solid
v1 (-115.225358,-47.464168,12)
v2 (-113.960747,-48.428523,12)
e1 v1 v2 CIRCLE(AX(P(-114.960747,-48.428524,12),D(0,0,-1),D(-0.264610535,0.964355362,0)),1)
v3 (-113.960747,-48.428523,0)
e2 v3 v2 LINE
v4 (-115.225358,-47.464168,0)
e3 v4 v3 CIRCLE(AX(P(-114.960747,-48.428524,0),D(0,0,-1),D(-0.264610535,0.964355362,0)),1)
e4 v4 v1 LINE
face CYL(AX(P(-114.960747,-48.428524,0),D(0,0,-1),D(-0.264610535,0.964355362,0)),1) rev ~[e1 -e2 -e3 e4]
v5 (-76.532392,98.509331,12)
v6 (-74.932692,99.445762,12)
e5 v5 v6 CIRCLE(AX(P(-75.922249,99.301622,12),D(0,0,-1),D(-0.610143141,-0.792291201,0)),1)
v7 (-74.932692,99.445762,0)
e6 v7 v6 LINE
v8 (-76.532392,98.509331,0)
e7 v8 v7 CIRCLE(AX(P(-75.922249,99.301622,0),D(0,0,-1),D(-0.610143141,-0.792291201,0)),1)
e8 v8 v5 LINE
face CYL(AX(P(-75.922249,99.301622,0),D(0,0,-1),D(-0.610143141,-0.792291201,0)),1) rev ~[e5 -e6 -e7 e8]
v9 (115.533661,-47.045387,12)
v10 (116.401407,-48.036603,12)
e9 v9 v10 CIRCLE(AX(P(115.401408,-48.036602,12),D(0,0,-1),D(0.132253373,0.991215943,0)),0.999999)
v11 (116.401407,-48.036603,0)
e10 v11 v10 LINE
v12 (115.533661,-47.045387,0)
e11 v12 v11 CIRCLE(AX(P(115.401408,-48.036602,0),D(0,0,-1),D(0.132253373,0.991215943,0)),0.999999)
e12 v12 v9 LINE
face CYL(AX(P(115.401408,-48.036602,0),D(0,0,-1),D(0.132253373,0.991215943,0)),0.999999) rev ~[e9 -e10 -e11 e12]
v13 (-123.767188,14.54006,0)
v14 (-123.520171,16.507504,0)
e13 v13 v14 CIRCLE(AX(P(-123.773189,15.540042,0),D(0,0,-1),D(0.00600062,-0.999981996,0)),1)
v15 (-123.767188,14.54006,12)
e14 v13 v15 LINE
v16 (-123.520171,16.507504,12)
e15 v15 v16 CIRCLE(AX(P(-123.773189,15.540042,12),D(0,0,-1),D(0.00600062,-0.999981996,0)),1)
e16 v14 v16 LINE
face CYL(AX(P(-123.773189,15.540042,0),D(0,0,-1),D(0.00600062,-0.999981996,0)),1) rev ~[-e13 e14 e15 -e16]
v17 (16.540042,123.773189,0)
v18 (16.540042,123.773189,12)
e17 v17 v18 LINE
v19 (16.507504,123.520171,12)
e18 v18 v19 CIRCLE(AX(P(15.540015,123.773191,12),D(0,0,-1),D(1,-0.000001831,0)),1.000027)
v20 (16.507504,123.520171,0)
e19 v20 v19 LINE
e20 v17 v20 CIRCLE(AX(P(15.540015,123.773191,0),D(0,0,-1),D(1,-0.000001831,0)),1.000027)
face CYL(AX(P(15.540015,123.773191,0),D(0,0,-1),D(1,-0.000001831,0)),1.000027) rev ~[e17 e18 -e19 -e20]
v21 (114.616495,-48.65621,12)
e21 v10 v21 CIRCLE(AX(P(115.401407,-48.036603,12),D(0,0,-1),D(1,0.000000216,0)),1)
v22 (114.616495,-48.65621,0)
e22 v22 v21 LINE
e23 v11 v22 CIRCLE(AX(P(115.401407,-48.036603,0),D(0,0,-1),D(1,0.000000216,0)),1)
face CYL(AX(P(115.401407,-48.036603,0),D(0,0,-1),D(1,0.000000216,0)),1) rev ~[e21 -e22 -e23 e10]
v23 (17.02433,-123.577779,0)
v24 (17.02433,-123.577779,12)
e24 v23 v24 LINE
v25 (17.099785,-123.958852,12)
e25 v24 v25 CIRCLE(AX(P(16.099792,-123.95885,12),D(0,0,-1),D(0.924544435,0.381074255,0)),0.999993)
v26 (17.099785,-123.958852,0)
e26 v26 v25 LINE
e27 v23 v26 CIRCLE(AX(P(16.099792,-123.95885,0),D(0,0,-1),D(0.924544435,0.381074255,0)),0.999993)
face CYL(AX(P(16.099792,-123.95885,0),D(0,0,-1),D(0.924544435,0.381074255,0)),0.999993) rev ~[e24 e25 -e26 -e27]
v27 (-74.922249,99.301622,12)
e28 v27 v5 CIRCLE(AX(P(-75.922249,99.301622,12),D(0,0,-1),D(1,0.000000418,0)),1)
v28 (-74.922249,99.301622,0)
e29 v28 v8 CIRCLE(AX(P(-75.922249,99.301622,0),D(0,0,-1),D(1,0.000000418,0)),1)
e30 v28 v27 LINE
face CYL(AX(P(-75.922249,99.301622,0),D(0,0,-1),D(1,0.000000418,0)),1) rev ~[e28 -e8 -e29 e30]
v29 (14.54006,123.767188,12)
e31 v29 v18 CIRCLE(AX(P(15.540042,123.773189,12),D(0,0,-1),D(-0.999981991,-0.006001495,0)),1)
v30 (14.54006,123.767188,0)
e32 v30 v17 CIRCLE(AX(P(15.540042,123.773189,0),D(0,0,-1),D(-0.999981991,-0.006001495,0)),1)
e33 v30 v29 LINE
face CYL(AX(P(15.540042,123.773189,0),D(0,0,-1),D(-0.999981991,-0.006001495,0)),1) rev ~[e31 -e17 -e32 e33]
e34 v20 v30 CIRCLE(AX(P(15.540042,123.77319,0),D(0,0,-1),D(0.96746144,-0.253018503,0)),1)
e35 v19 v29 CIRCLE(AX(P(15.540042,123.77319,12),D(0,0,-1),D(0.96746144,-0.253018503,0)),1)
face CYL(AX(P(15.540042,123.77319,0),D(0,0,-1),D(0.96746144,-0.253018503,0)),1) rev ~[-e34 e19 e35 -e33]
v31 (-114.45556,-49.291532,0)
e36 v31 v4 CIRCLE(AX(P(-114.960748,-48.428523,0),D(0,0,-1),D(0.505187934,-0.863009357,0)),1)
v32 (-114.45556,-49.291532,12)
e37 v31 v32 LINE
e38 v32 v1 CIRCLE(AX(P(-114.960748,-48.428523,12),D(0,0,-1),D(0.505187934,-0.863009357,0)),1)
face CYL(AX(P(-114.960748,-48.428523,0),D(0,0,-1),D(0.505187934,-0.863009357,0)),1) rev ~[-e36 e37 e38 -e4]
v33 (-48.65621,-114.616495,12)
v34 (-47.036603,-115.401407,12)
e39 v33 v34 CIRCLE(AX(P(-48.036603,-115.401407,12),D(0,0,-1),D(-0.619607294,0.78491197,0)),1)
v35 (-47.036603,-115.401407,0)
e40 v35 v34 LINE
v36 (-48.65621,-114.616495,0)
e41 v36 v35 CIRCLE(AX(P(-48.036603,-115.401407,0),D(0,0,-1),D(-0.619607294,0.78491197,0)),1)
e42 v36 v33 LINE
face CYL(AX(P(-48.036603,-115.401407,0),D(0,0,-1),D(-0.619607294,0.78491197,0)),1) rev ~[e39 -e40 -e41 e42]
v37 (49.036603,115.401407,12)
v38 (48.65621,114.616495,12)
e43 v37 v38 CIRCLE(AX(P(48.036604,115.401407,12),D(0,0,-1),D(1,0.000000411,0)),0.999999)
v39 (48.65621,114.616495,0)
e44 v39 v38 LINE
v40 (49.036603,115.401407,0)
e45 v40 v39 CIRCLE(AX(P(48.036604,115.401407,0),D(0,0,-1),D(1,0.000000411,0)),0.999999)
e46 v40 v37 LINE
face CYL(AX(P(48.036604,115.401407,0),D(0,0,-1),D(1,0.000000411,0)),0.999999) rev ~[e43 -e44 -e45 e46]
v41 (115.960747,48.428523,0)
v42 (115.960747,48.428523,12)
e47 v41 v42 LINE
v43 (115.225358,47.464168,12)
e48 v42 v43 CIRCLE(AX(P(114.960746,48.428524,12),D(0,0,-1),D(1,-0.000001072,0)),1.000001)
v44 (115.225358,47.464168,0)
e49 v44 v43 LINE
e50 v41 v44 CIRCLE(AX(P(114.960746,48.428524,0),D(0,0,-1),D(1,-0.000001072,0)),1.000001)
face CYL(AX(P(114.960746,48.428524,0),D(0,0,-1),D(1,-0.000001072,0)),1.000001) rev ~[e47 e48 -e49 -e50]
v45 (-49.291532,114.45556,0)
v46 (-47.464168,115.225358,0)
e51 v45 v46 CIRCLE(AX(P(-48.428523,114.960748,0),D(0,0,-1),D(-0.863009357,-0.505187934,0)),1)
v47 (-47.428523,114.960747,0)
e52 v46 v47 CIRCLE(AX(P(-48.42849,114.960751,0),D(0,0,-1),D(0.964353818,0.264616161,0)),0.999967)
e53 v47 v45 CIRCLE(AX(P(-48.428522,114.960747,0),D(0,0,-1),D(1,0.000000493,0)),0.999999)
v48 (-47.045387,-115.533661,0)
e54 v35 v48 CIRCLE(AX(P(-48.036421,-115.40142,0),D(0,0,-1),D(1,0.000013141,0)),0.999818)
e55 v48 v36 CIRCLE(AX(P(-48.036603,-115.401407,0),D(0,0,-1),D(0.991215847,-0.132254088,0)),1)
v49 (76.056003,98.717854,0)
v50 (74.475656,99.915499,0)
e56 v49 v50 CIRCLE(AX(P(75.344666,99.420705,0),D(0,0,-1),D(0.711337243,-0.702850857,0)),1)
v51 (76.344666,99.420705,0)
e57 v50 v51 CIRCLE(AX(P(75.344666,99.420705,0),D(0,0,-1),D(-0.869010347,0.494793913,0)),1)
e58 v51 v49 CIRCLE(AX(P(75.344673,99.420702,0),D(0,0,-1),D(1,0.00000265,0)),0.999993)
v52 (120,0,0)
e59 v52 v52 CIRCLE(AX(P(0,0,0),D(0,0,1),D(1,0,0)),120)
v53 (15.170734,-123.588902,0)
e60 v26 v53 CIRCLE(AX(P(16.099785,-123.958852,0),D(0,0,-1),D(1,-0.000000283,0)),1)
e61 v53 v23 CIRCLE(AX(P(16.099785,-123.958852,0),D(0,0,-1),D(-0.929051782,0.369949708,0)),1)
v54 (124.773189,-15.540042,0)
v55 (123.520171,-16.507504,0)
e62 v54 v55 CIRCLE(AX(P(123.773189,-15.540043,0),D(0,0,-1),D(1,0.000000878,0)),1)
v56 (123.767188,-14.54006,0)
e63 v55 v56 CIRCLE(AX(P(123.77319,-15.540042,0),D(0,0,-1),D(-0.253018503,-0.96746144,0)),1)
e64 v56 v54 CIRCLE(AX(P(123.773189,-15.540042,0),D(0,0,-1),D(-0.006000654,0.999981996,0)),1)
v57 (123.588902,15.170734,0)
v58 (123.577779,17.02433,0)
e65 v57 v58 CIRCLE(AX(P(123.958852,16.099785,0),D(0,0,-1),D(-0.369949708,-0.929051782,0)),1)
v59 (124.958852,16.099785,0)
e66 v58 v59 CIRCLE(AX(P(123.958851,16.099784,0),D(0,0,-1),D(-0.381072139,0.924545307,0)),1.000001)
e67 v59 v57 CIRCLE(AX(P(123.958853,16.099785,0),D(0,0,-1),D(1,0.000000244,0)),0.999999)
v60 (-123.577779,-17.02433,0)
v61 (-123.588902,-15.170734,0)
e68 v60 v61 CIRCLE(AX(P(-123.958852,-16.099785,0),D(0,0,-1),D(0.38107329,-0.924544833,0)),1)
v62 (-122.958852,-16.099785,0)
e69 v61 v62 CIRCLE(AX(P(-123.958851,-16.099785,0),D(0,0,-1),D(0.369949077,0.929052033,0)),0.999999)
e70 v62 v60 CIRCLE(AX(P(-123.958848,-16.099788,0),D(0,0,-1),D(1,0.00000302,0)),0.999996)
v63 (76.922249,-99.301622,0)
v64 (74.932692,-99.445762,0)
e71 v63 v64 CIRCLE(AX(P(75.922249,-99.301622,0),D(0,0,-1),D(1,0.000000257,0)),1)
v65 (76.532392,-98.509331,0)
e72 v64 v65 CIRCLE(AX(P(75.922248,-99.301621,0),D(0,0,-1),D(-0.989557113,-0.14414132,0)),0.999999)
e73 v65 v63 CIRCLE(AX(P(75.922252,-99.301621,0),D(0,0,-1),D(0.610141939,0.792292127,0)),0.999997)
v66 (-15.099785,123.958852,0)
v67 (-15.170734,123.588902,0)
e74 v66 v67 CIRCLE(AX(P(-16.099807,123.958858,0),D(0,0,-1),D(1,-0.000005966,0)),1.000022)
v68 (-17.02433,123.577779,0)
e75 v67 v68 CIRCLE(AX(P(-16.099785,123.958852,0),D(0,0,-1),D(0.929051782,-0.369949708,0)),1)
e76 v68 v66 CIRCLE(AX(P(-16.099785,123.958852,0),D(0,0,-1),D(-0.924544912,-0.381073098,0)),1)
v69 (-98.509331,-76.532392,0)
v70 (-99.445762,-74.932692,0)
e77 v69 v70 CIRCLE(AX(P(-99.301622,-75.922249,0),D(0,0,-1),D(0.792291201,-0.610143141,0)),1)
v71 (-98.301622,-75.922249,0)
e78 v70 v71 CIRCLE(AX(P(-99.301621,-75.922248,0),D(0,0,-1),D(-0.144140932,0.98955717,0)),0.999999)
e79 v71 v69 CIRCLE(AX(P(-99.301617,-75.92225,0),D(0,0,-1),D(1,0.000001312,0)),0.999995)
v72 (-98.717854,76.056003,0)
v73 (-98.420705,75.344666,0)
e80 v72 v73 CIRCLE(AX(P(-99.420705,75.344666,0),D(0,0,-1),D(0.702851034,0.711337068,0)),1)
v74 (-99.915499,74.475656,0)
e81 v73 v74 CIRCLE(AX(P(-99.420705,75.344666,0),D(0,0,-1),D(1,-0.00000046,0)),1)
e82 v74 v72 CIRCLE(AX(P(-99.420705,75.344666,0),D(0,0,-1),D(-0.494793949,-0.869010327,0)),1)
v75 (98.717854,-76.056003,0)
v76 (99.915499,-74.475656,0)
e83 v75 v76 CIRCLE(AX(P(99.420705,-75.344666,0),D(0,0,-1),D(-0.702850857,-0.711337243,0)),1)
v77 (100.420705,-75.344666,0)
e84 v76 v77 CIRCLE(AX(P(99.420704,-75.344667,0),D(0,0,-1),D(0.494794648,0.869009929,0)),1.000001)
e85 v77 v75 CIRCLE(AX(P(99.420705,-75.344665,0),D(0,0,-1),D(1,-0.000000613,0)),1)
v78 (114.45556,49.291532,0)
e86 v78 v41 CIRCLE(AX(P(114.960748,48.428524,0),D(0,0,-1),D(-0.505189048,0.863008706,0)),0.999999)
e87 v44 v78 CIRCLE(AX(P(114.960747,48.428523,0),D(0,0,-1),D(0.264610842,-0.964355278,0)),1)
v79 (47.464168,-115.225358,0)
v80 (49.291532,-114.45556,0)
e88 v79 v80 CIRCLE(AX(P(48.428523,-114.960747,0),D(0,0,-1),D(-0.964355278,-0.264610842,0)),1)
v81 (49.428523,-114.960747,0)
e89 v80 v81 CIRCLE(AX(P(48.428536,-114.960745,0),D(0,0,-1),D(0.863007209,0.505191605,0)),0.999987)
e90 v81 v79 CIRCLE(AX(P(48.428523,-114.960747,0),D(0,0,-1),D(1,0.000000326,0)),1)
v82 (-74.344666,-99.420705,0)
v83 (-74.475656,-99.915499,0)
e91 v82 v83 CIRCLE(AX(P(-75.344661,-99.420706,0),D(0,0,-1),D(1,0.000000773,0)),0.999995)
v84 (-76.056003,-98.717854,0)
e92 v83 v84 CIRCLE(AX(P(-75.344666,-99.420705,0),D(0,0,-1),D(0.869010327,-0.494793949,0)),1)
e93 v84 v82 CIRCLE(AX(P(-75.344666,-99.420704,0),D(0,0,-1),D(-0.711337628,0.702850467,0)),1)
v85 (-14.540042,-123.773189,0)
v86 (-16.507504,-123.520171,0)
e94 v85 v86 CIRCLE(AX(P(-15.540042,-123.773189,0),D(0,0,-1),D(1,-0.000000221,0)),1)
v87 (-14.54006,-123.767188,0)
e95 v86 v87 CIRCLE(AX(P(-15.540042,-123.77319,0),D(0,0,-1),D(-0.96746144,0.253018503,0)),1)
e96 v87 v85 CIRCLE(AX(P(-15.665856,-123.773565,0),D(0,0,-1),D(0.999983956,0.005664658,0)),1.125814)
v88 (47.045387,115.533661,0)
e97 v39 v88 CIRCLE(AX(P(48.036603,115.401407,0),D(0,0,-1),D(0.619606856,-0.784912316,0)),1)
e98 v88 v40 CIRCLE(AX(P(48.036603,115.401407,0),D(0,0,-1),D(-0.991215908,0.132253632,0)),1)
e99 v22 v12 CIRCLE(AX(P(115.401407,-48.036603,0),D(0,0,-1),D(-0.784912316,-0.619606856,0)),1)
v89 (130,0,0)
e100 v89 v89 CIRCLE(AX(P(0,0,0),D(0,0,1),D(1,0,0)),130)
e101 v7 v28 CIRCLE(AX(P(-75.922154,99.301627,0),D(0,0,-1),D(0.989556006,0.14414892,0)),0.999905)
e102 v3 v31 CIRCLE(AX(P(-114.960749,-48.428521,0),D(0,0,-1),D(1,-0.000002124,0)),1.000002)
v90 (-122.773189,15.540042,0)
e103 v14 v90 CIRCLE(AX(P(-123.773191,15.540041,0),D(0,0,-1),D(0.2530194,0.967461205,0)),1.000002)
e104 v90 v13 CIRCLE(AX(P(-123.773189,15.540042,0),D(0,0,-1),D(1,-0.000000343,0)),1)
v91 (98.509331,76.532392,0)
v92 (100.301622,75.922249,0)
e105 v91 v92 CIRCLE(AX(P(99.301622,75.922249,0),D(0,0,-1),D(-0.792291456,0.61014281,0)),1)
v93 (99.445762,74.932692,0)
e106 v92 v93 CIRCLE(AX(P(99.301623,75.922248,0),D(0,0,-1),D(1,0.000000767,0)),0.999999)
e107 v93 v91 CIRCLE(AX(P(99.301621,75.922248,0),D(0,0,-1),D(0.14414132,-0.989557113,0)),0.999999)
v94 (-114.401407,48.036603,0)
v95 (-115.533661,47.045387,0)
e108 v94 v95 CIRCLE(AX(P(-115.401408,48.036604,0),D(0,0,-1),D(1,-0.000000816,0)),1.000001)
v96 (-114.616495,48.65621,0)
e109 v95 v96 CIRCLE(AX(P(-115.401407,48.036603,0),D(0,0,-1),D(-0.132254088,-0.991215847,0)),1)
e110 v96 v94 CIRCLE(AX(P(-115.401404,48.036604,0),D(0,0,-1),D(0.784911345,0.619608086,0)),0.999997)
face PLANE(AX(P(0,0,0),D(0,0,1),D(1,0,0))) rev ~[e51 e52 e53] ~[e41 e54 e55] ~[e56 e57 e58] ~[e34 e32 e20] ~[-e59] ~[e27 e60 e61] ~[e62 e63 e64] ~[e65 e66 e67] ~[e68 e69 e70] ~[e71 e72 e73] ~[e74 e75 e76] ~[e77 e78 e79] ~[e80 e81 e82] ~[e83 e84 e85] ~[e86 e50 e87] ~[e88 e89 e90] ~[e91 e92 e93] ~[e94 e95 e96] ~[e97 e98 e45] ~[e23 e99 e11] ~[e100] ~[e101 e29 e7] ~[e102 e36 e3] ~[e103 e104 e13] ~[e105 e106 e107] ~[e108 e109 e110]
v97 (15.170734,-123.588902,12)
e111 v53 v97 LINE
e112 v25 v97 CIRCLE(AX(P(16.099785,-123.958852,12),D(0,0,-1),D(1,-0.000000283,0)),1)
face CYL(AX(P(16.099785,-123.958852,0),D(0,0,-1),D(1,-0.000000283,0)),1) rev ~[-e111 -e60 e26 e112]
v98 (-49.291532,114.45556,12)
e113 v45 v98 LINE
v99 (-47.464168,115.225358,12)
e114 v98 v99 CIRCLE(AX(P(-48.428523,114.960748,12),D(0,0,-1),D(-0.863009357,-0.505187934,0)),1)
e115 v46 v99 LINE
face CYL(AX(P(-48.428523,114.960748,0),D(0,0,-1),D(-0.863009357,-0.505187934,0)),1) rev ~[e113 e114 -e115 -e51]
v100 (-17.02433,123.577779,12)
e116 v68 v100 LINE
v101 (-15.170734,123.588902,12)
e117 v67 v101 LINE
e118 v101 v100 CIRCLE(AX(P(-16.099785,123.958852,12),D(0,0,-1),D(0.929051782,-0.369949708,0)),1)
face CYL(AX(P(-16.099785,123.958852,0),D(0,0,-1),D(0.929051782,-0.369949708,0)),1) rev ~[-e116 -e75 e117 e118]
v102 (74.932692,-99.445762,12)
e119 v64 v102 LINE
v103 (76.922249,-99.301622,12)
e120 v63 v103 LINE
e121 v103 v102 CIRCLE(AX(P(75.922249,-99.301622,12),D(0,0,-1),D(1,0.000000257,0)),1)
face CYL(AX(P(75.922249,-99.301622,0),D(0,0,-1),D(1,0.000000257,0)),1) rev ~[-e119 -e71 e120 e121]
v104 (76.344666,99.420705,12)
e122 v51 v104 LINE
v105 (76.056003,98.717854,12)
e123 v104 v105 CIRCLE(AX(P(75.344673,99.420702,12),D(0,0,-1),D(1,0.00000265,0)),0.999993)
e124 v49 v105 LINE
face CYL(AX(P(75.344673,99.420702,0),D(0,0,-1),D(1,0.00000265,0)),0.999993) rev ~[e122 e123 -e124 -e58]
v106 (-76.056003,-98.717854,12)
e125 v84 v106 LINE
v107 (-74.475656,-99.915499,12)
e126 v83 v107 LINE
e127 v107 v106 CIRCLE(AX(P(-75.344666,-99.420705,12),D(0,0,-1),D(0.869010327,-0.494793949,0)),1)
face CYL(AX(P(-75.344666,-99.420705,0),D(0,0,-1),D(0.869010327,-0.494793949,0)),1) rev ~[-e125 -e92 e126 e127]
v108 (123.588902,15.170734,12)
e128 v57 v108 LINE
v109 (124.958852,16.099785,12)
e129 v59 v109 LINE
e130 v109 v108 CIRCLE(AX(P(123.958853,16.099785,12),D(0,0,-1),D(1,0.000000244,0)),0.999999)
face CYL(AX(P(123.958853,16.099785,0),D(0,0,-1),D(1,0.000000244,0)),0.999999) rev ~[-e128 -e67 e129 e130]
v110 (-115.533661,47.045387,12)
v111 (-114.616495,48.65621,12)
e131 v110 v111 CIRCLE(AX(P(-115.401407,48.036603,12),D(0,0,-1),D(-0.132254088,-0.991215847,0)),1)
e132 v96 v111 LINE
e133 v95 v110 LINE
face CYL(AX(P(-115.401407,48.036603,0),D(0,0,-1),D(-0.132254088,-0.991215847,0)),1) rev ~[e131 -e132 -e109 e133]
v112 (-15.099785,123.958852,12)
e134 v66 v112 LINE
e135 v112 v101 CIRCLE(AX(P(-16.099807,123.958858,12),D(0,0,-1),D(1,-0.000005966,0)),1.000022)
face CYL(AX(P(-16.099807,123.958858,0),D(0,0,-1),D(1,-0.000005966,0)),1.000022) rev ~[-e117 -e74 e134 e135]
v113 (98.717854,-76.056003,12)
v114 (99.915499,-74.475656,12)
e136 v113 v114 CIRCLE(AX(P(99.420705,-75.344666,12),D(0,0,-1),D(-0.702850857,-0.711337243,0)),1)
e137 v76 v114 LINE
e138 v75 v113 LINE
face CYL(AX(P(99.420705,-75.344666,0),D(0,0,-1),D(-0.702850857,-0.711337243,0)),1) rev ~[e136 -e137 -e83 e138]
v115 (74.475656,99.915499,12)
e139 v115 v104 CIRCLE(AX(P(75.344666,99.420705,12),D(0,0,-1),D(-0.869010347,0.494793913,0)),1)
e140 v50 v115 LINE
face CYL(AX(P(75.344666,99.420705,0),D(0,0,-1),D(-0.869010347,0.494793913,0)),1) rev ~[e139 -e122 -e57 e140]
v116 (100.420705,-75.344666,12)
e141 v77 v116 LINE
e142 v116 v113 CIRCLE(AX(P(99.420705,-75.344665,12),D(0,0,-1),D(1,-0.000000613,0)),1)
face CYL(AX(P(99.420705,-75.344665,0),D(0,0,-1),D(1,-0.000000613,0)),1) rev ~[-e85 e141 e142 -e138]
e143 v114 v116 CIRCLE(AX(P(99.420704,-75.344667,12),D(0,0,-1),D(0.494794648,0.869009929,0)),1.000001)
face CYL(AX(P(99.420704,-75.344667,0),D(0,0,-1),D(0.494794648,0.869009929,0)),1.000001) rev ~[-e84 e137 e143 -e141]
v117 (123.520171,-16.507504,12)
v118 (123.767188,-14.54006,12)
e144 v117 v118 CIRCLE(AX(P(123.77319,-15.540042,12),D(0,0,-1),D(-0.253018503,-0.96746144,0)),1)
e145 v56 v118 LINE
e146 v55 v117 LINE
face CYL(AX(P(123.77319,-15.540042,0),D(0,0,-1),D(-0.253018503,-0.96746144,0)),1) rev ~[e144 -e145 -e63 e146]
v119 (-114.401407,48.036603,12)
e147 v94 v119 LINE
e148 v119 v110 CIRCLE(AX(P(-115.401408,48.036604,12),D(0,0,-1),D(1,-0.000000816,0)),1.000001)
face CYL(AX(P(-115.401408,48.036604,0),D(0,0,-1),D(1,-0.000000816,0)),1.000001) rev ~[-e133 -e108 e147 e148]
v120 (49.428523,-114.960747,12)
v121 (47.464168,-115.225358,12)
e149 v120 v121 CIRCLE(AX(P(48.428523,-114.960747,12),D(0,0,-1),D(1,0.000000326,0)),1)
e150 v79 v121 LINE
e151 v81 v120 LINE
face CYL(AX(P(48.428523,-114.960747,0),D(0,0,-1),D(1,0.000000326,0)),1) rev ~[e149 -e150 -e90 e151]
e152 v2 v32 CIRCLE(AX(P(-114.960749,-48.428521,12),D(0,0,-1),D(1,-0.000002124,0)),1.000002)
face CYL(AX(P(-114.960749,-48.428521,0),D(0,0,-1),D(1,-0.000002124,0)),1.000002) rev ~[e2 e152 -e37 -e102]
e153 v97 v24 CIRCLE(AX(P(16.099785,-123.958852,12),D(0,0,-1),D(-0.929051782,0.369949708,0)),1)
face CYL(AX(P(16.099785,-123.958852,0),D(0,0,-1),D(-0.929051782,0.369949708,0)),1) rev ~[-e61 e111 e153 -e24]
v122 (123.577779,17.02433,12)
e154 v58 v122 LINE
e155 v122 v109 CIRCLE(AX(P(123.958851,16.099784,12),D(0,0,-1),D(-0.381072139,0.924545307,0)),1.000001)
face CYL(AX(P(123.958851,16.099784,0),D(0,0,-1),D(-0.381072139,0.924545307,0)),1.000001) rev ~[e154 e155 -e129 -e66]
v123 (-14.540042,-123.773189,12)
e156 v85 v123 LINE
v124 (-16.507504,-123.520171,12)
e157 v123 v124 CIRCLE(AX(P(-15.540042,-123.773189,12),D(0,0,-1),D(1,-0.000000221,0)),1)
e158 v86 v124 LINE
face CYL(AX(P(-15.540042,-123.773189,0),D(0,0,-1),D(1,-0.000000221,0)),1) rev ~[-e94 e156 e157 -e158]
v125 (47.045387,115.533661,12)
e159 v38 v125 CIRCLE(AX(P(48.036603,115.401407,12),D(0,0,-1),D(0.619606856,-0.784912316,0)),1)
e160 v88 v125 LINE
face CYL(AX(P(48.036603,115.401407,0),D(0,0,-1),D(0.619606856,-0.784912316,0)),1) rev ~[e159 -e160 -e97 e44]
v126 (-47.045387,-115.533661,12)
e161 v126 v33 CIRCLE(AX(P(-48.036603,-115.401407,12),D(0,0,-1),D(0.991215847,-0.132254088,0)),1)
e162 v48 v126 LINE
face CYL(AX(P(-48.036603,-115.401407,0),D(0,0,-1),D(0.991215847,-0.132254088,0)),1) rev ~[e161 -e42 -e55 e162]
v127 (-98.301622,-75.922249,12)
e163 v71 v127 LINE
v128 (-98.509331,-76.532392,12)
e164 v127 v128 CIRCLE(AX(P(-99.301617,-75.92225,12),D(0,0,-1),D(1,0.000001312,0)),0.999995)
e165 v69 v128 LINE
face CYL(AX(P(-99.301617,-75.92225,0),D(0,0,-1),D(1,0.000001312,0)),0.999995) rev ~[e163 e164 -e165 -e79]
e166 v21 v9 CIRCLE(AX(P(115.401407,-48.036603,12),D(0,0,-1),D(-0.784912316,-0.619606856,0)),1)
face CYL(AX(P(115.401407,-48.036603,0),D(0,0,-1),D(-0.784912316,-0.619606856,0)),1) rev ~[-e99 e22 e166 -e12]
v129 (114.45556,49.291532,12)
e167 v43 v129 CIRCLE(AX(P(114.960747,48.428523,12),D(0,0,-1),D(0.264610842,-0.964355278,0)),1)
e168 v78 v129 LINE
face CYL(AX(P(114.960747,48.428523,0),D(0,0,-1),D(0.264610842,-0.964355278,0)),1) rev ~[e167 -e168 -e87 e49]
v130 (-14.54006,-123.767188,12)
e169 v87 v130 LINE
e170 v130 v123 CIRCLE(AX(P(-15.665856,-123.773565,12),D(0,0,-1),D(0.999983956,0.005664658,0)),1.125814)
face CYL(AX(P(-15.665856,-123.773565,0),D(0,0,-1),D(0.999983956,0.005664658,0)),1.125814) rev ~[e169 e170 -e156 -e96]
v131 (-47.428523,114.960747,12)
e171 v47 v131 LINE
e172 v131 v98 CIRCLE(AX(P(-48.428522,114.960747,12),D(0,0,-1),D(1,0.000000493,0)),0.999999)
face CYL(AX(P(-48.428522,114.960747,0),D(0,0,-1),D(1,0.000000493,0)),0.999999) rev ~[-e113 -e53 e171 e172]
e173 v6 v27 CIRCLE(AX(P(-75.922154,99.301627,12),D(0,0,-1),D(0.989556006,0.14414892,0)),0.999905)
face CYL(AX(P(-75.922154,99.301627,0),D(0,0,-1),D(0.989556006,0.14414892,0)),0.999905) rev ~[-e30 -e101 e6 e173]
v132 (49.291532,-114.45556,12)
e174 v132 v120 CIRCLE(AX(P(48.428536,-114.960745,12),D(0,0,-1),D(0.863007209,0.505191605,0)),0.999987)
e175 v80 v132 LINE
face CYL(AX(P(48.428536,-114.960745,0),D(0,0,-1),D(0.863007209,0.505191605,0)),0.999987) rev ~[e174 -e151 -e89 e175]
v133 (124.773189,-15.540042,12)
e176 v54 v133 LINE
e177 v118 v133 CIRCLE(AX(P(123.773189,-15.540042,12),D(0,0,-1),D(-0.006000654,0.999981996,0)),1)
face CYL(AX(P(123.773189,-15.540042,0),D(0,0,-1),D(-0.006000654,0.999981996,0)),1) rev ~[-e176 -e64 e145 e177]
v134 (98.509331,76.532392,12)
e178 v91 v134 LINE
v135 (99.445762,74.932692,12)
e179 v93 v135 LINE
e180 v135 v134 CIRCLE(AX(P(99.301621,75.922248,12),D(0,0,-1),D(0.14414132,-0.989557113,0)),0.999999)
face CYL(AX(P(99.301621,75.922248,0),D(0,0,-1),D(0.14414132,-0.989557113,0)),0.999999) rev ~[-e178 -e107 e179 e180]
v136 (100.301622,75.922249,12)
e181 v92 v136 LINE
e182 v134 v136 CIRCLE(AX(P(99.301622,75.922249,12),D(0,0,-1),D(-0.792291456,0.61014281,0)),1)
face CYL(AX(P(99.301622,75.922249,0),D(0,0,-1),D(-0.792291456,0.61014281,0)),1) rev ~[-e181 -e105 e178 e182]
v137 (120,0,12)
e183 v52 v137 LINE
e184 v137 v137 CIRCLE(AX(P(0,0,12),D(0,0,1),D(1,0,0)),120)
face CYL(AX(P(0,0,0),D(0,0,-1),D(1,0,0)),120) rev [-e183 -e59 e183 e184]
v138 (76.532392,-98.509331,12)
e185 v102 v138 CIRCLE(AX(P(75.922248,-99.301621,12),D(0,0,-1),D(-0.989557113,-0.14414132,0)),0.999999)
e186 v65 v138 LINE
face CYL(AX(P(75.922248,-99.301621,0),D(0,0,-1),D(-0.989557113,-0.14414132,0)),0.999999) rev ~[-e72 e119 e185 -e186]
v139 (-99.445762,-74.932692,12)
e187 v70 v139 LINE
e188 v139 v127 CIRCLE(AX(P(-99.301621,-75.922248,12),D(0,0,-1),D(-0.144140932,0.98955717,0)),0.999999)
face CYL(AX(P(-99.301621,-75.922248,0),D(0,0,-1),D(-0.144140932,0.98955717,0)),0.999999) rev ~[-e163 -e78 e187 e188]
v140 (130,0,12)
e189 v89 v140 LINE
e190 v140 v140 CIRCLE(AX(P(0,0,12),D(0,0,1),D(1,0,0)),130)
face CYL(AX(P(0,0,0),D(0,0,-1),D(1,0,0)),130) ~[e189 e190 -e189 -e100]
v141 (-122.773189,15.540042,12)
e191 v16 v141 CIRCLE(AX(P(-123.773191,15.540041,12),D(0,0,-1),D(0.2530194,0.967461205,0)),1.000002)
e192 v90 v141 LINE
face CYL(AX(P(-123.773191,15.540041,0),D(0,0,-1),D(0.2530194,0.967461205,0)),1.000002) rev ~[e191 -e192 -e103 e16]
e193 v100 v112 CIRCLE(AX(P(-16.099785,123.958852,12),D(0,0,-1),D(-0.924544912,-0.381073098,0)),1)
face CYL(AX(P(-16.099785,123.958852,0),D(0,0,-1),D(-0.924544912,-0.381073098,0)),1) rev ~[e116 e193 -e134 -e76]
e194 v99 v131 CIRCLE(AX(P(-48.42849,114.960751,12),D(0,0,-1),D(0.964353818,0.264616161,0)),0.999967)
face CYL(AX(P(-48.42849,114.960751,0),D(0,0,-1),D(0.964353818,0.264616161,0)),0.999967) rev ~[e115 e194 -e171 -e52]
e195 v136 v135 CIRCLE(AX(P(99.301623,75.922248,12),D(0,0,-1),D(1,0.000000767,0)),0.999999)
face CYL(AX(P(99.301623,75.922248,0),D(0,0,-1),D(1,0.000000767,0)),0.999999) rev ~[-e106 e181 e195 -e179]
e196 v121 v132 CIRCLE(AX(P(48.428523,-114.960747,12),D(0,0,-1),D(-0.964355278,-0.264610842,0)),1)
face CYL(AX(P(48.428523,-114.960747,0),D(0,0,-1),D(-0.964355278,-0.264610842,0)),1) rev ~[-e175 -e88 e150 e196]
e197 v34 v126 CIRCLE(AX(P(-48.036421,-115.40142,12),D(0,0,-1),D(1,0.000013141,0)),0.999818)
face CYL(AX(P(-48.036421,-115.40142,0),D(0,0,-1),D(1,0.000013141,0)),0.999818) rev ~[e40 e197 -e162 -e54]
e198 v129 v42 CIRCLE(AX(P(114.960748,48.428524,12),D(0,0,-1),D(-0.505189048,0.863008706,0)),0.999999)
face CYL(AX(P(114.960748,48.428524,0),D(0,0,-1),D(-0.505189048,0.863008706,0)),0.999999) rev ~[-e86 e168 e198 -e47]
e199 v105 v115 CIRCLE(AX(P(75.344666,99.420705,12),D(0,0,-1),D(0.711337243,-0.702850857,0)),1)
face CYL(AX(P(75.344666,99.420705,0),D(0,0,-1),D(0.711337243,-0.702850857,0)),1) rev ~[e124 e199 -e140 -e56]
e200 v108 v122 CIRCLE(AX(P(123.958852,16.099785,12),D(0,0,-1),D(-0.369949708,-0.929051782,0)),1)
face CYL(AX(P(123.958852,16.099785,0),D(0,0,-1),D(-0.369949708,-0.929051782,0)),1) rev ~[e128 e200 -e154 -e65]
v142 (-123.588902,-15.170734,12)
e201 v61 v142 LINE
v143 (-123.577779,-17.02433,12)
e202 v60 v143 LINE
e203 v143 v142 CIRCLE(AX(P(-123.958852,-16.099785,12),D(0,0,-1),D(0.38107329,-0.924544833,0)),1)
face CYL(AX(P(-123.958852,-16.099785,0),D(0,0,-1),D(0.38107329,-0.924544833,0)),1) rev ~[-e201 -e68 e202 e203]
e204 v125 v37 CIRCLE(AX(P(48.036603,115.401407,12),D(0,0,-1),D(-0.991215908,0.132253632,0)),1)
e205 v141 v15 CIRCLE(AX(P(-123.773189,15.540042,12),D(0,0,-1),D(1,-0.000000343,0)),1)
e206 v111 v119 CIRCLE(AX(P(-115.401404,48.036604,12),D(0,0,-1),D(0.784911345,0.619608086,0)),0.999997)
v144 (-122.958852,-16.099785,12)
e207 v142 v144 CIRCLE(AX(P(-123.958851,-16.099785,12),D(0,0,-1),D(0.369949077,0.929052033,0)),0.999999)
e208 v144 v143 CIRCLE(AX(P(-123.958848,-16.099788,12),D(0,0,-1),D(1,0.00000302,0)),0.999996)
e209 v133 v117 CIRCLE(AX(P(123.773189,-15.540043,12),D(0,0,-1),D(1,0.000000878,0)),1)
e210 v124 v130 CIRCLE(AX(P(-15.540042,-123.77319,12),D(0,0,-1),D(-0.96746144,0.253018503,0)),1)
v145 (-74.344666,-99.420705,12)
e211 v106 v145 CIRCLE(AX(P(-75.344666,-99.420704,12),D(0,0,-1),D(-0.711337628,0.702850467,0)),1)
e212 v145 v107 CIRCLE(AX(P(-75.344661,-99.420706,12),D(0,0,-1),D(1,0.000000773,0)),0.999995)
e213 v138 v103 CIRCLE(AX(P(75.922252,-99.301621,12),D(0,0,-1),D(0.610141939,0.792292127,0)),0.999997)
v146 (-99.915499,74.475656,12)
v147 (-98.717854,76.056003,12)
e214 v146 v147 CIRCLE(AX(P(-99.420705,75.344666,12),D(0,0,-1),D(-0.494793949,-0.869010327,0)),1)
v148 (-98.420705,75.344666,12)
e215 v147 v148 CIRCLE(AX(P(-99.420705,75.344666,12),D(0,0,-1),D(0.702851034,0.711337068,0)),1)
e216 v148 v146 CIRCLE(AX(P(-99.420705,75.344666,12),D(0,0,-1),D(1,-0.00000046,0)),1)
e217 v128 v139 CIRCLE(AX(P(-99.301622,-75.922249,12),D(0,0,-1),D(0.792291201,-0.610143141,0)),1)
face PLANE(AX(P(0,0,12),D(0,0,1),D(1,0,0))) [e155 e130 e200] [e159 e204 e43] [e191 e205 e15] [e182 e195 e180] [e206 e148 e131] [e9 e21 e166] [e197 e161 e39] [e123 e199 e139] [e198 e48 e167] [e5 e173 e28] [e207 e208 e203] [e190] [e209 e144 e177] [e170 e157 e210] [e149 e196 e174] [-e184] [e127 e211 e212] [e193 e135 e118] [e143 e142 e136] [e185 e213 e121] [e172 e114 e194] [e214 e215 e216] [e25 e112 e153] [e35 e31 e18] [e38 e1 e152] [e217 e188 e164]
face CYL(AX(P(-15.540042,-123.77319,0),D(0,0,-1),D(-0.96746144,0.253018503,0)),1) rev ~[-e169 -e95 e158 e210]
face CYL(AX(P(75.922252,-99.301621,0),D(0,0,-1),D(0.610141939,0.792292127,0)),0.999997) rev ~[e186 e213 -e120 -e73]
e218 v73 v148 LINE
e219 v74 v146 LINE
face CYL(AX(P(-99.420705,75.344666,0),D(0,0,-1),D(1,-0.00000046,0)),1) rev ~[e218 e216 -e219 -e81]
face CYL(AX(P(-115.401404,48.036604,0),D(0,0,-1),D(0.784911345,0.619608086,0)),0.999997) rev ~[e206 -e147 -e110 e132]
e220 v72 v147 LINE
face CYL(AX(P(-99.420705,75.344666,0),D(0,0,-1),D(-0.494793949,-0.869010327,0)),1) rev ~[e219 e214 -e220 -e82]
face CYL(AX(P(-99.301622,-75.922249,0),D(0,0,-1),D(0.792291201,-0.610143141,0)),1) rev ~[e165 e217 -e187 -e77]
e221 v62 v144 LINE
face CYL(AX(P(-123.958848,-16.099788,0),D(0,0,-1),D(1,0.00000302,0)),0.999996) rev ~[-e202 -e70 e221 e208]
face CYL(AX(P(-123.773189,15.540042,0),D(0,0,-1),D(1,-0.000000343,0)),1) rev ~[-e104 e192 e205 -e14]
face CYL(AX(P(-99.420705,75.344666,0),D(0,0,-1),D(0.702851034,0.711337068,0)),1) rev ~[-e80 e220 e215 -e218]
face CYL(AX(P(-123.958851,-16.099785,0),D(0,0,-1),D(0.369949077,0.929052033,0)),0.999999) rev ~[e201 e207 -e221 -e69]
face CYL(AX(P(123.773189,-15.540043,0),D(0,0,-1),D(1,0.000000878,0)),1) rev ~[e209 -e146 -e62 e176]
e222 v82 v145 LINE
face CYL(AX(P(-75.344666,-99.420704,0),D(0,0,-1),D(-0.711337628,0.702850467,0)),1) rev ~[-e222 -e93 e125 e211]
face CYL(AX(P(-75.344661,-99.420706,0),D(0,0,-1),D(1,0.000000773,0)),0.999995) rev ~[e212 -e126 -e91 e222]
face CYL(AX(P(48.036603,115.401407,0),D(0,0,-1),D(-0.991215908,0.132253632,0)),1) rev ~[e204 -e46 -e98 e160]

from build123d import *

# Parameters (mm, degrees)
F0_R     = 130
F0_R_2   = 120
F1_DEPTH = 12


with BuildPart() as f1:
    # F0 (on Top) → F1 (new body)
    with BuildSketch(Plane.XY):
        Circle(F0_R)
        with BuildLine():
            ThreePointArc((115.533661, -47.045387), (116.153821, -47.377912), (116.401407, -48.036603))
            ThreePointArc((116.401407, -48.036603), (115.729346, -48.981302), (114.616495, -48.65621))
            Line((114.616495, -48.65621), (99.915499, -74.475656))
            ThreePointArc((99.915499, -74.475656), (100.285226, -74.84207), (100.420705, -75.344666))
            ThreePointArc((100.420705, -75.344666), (99.806158, -76.267393), (98.717854, -76.056003))
            Line((98.717854, -76.056003), (76.532392, -98.509331))
            ThreePointArc((76.532392, -98.509331), (76.819507, -98.860115), (76.922249, -99.301622))
            ThreePointArc((76.922249, -99.301622), (75.994508, -100.299008), (74.932692, -99.445762))
            Line((74.932692, -99.445762), (49.291532, -114.45556))
            ThreePointArc((49.291532, -114.45556), (49.393668, -114.699031), (49.428523, -114.960747))
            ThreePointArc((49.428523, -114.960747), (48.562023, -115.951796), (47.464168, -115.225358))
            Line((47.464168, -115.225358), (17.02433, -123.577779))
            ThreePointArc((17.02433, -123.577779), (17.08074, -123.764616), (17.099785, -123.958852))
            ThreePointArc((17.099785, -123.958852), (15.911439, -124.940954), (15.170734, -123.588902))
            Line((15.170734, -123.588902), (-14.54006, -123.767188))
            ThreePointArc((-14.54006, -123.767188), (-14.540047, -123.770189), (-14.540042, -123.773189))
            ThreePointArc((-14.540042, -123.773189), (-15.667593, -124.765021), (-16.507504, -123.520171))
            Line((-16.507504, -123.520171), (-47.045387, -115.533661))
            ThreePointArc((-47.045387, -115.533661), (-48.531397, -116.270417), (-48.65621, -114.616495))
            Line((-48.65621, -114.616495), (-74.475656, -99.915499))
            ThreePointArc((-74.475656, -99.915499), (-75.948656, -100.217697), (-76.056003, -98.717854))
            Line((-76.056003, -98.717854), (-98.509331, -76.532392))
            ThreePointArc((-98.509331, -76.532392), (-100.164631, -76.427437), (-99.445762, -74.932692))
            Line((-99.445762, -74.932692), (-114.45556, -49.291532))
            ThreePointArc((-114.45556, -49.291532), (-115.882314, -48.816743), (-115.225358, -47.464168))
            Line((-115.225358, -47.464168), (-123.577779, -17.02433))
            ThreePointArc((-123.577779, -17.02433), (-124.958834, -16.105786), (-123.588902, -15.170734))
            Line((-123.588902, -15.170734), (-123.767188, 14.54006))
            ThreePointArc((-123.767188, 14.54006), (-124.765399, 15.664617), (-123.520171, 16.507504))
            Line((-123.520171, 16.507504), (-115.533661, 47.045387))
            ThreePointArc((-115.533661, 47.045387), (-116.270417, 48.531397), (-114.616495, 48.65621))
            Line((-114.616495, 48.65621), (-99.915499, 74.475656))
            ThreePointArc((-99.915499, 74.475656), (-100.217697, 75.948656), (-98.717854, 76.056003))
            Line((-98.717854, 76.056003), (-76.532392, 98.509331))
            ThreePointArc((-76.532392, 98.509331), (-76.427437, 100.164631), (-74.932692, 99.445762))
            Line((-74.932692, 99.445762), (-49.291532, 114.45556))
            ThreePointArc((-49.291532, 114.45556), (-48.816743, 115.882314), (-47.464168, 115.225358))
            Line((-47.464168, 115.225358), (-17.02433, 123.577779))
            ThreePointArc((-17.02433, 123.577779), (-16.294021, 124.939807), (-15.099785, 123.958852))
            ThreePointArc((-15.099785, 123.958852), (-15.117683, 123.770506), (-15.170734, 123.588902))
            Line((-15.170734, 123.588902), (14.54006, 123.767188))
            ThreePointArc((14.54006, 123.767188), (15.537042, 124.773185), (16.540042, 123.773189))
            ThreePointArc((16.540042, 123.773189), (16.531874, 123.645638), (16.507504, 123.520171))
            Line((16.507504, 123.520171), (47.045387, 115.533661))
            ThreePointArc((47.045387, 115.533661), (48.102875, 116.399209), (49.036603, 115.401407))
            ThreePointArc((49.036603, 115.401407), (48.936494, 114.965292), (48.65621, 114.616495))
            Line((48.65621, 114.616495), (74.475656, 99.915499))
            ThreePointArc((74.475656, 99.915499), (75.600586, 100.387403), (76.344666, 99.420705))
            ThreePointArc((76.344666, 99.420705), (76.26969, 99.040795), (76.056003, 98.717854))
            Line((76.056003, 98.717854), (98.509331, 76.532392))
            ThreePointArc((98.509331, 76.532392), (99.623886, 76.868899), (100.301622, 75.922249))
            ThreePointArc((100.301622, 75.922249), (100.057975, 75.268085), (99.445762, 74.932692))
            Line((99.445762, 74.932692), (114.45556, 49.291532))
            ThreePointArc((114.45556, 49.291532), (115.458147, 49.296045), (115.960747, 48.428523))
            ThreePointArc((115.960747, 48.428523), (115.755923, 47.822145), (115.225358, 47.464168))
            Line((115.225358, 47.464168), (123.577779, 17.02433))
            ThreePointArc((123.577779, 17.02433), (124.515146, 16.93077), (124.958852, 16.099785))
            ThreePointArc((124.958852, 16.099785), (124.520123, 15.272153), (123.588902, 15.170734))
            Line((123.588902, 15.170734), (123.767188, -14.54006))
            ThreePointArc((123.767188, -14.54006), (124.478171, -14.830817), (124.773189, -15.540042))
            ThreePointArc((124.773189, -15.540042), (124.384328, -16.331566), (123.520171, -16.507504))
            Line((123.520171, -16.507504), (115.533661, -47.045387))
        make_face(mode=Mode.SUBTRACT)
        with BuildLine():
            ThreePointArc((114.616495, -48.65621), (114.532397, -47.541809), (115.533661, -47.045387))
            Line((115.533661, -47.045387), (123.520171, -16.507504))
            ThreePointArc((123.520171, -16.507504), (122.780979, -15.415468), (123.767188, -14.54006))
            Line((123.767188, -14.54006), (123.588902, 15.170734))
            ThreePointArc((123.588902, 15.170734), (122.95887, 16.093785), (123.577779, 17.02433))
            Line((123.577779, 17.02433), (115.225358, 47.464168))
            ThreePointArc((115.225358, 47.464168), (114.039181, 48.040303), (114.45556, 49.291532))
            Line((114.45556, 49.291532), (99.445762, 74.932692))
            ThreePointArc((99.445762, 74.932692), (98.438612, 75.417061), (98.509331, 76.532392))
            Line((98.509331, 76.532392), (76.056003, 98.717854))
            ThreePointArc((76.056003, 98.717854), (74.740676, 98.623713), (74.475656, 99.915499))
            Line((74.475656, 99.915499), (48.65621, 114.616495))
            ThreePointArc((48.65621, 114.616495), (47.541809, 114.532397), (47.045387, 115.533661))
            Line((47.045387, 115.533661), (16.507504, 123.520171))
            ThreePointArc((16.507504, 123.520171), (15.415468, 122.780979), (14.54006, 123.767188))
            Line((14.54006, 123.767188), (-15.170734, 123.588902))
            ThreePointArc((-15.170734, 123.588902), (-16.093785, 122.95887), (-17.02433, 123.577779))
            Line((-17.02433, 123.577779), (-47.464168, 115.225358))
            ThreePointArc((-47.464168, 115.225358), (-47.437474, 115.094247), (-47.428523, 114.960747))
            ThreePointArc((-47.428523, 114.960747), (-48.166807, 113.995602), (-49.291532, 114.45556))
            Line((-49.291532, 114.45556), (-74.932692, 99.445762))
            ThreePointArc((-74.932692, 99.445762), (-74.924863, 99.373881), (-74.922249, 99.301622))
            ThreePointArc((-74.922249, 99.301622), (-75.480742, 98.404364), (-76.532392, 98.509331))
            Line((-76.532392, 98.509331), (-98.717854, 76.056003))
            ThreePointArc((-98.717854, 76.056003), (-98.497978, 75.73012), (-98.420705, 75.344666))
            ThreePointArc((-98.420705, 75.344666), (-98.918109, 74.480145), (-99.915499, 74.475656))
            Line((-99.915499, 74.475656), (-114.616495, 48.65621))
            ThreePointArc((-114.616495, 48.65621), (-114.456708, 48.364542), (-114.401407, 48.036603))
            ThreePointArc((-114.401407, 48.036603), (-114.742717, 47.284189), (-115.533661, 47.045387))
            Line((-115.533661, 47.045387), (-123.520171, 16.507504))
            ThreePointArc((-123.520171, 16.507504), (-122.981666, 16.151181), (-122.773189, 15.540042))
            ThreePointArc((-122.773189, 15.540042), (-123.063964, 14.83506), (-123.767188, 14.54006))
            Line((-123.767188, 14.54006), (-123.588902, -15.170734))
            ThreePointArc((-123.588902, -15.170734), (-123.13122, -15.538514), (-122.958852, -16.099785))
            ThreePointArc((-122.958852, -16.099785), (-123.127866, -16.65608), (-123.577779, -17.02433))
            Line((-123.577779, -17.02433), (-115.225358, -47.464168))
            ThreePointArc((-115.225358, -47.464168), (-114.354369, -47.633347), (-113.960747, -48.428523))
            ThreePointArc((-113.960747, -48.428523), (-114.093226, -48.925922), (-114.45556, -49.291532))
            Line((-114.45556, -49.291532), (-99.445762, -74.932692))
            ThreePointArc((-99.445762, -74.932692), (-98.647458, -75.165896), (-98.301622, -75.922249))
            ThreePointArc((-98.301622, -75.922249), (-98.354972, -76.244513), (-98.509331, -76.532392))
            Line((-98.509331, -76.532392), (-76.056003, -98.717854))
            ThreePointArc((-76.056003, -98.717854), (-74.964756, -98.495681), (-74.344666, -99.420705))
            ThreePointArc((-74.344666, -99.420705), (-74.377968, -99.676625), (-74.475656, -99.915499))
            Line((-74.475656, -99.915499), (-48.65621, -114.616495))
            ThreePointArc((-48.65621, -114.616495), (-47.600488, -114.501516), (-47.036603, -115.401407))
            ThreePointArc((-47.036603, -115.401407), (-47.038801, -115.46768), (-47.045387, -115.533661))
            Line((-47.045387, -115.533661), (-16.507504, -123.520171))
            ThreePointArc((-16.507504, -123.520171), (-15.415468, -122.780979), (-14.54006, -123.767188))
            Line((-14.54006, -123.767188), (15.170734, -123.588902))
            ThreePointArc((15.170734, -123.588902), (16.093785, -122.95887), (17.02433, -123.577779))
            Line((17.02433, -123.577779), (47.464168, -115.225358))
            ThreePointArc((47.464168, -115.225358), (48.040303, -114.039181), (49.291532, -114.45556))
            Line((49.291532, -114.45556), (74.932692, -99.445762))
            ThreePointArc((74.932692, -99.445762), (75.417061, -98.438612), (76.532392, -98.509331))
            Line((76.532392, -98.509331), (98.717854, -76.056003))
            ThreePointArc((98.717854, -76.056003), (98.623713, -74.740676), (99.915499, -74.475656))
            Line((99.915499, -74.475656), (114.616495, -48.65621))
        make_face()
        Circle(F0_R_2, mode=Mode.SUBTRACT)
    extrude(amount=F1_DEPTH)


solid = f1.part
